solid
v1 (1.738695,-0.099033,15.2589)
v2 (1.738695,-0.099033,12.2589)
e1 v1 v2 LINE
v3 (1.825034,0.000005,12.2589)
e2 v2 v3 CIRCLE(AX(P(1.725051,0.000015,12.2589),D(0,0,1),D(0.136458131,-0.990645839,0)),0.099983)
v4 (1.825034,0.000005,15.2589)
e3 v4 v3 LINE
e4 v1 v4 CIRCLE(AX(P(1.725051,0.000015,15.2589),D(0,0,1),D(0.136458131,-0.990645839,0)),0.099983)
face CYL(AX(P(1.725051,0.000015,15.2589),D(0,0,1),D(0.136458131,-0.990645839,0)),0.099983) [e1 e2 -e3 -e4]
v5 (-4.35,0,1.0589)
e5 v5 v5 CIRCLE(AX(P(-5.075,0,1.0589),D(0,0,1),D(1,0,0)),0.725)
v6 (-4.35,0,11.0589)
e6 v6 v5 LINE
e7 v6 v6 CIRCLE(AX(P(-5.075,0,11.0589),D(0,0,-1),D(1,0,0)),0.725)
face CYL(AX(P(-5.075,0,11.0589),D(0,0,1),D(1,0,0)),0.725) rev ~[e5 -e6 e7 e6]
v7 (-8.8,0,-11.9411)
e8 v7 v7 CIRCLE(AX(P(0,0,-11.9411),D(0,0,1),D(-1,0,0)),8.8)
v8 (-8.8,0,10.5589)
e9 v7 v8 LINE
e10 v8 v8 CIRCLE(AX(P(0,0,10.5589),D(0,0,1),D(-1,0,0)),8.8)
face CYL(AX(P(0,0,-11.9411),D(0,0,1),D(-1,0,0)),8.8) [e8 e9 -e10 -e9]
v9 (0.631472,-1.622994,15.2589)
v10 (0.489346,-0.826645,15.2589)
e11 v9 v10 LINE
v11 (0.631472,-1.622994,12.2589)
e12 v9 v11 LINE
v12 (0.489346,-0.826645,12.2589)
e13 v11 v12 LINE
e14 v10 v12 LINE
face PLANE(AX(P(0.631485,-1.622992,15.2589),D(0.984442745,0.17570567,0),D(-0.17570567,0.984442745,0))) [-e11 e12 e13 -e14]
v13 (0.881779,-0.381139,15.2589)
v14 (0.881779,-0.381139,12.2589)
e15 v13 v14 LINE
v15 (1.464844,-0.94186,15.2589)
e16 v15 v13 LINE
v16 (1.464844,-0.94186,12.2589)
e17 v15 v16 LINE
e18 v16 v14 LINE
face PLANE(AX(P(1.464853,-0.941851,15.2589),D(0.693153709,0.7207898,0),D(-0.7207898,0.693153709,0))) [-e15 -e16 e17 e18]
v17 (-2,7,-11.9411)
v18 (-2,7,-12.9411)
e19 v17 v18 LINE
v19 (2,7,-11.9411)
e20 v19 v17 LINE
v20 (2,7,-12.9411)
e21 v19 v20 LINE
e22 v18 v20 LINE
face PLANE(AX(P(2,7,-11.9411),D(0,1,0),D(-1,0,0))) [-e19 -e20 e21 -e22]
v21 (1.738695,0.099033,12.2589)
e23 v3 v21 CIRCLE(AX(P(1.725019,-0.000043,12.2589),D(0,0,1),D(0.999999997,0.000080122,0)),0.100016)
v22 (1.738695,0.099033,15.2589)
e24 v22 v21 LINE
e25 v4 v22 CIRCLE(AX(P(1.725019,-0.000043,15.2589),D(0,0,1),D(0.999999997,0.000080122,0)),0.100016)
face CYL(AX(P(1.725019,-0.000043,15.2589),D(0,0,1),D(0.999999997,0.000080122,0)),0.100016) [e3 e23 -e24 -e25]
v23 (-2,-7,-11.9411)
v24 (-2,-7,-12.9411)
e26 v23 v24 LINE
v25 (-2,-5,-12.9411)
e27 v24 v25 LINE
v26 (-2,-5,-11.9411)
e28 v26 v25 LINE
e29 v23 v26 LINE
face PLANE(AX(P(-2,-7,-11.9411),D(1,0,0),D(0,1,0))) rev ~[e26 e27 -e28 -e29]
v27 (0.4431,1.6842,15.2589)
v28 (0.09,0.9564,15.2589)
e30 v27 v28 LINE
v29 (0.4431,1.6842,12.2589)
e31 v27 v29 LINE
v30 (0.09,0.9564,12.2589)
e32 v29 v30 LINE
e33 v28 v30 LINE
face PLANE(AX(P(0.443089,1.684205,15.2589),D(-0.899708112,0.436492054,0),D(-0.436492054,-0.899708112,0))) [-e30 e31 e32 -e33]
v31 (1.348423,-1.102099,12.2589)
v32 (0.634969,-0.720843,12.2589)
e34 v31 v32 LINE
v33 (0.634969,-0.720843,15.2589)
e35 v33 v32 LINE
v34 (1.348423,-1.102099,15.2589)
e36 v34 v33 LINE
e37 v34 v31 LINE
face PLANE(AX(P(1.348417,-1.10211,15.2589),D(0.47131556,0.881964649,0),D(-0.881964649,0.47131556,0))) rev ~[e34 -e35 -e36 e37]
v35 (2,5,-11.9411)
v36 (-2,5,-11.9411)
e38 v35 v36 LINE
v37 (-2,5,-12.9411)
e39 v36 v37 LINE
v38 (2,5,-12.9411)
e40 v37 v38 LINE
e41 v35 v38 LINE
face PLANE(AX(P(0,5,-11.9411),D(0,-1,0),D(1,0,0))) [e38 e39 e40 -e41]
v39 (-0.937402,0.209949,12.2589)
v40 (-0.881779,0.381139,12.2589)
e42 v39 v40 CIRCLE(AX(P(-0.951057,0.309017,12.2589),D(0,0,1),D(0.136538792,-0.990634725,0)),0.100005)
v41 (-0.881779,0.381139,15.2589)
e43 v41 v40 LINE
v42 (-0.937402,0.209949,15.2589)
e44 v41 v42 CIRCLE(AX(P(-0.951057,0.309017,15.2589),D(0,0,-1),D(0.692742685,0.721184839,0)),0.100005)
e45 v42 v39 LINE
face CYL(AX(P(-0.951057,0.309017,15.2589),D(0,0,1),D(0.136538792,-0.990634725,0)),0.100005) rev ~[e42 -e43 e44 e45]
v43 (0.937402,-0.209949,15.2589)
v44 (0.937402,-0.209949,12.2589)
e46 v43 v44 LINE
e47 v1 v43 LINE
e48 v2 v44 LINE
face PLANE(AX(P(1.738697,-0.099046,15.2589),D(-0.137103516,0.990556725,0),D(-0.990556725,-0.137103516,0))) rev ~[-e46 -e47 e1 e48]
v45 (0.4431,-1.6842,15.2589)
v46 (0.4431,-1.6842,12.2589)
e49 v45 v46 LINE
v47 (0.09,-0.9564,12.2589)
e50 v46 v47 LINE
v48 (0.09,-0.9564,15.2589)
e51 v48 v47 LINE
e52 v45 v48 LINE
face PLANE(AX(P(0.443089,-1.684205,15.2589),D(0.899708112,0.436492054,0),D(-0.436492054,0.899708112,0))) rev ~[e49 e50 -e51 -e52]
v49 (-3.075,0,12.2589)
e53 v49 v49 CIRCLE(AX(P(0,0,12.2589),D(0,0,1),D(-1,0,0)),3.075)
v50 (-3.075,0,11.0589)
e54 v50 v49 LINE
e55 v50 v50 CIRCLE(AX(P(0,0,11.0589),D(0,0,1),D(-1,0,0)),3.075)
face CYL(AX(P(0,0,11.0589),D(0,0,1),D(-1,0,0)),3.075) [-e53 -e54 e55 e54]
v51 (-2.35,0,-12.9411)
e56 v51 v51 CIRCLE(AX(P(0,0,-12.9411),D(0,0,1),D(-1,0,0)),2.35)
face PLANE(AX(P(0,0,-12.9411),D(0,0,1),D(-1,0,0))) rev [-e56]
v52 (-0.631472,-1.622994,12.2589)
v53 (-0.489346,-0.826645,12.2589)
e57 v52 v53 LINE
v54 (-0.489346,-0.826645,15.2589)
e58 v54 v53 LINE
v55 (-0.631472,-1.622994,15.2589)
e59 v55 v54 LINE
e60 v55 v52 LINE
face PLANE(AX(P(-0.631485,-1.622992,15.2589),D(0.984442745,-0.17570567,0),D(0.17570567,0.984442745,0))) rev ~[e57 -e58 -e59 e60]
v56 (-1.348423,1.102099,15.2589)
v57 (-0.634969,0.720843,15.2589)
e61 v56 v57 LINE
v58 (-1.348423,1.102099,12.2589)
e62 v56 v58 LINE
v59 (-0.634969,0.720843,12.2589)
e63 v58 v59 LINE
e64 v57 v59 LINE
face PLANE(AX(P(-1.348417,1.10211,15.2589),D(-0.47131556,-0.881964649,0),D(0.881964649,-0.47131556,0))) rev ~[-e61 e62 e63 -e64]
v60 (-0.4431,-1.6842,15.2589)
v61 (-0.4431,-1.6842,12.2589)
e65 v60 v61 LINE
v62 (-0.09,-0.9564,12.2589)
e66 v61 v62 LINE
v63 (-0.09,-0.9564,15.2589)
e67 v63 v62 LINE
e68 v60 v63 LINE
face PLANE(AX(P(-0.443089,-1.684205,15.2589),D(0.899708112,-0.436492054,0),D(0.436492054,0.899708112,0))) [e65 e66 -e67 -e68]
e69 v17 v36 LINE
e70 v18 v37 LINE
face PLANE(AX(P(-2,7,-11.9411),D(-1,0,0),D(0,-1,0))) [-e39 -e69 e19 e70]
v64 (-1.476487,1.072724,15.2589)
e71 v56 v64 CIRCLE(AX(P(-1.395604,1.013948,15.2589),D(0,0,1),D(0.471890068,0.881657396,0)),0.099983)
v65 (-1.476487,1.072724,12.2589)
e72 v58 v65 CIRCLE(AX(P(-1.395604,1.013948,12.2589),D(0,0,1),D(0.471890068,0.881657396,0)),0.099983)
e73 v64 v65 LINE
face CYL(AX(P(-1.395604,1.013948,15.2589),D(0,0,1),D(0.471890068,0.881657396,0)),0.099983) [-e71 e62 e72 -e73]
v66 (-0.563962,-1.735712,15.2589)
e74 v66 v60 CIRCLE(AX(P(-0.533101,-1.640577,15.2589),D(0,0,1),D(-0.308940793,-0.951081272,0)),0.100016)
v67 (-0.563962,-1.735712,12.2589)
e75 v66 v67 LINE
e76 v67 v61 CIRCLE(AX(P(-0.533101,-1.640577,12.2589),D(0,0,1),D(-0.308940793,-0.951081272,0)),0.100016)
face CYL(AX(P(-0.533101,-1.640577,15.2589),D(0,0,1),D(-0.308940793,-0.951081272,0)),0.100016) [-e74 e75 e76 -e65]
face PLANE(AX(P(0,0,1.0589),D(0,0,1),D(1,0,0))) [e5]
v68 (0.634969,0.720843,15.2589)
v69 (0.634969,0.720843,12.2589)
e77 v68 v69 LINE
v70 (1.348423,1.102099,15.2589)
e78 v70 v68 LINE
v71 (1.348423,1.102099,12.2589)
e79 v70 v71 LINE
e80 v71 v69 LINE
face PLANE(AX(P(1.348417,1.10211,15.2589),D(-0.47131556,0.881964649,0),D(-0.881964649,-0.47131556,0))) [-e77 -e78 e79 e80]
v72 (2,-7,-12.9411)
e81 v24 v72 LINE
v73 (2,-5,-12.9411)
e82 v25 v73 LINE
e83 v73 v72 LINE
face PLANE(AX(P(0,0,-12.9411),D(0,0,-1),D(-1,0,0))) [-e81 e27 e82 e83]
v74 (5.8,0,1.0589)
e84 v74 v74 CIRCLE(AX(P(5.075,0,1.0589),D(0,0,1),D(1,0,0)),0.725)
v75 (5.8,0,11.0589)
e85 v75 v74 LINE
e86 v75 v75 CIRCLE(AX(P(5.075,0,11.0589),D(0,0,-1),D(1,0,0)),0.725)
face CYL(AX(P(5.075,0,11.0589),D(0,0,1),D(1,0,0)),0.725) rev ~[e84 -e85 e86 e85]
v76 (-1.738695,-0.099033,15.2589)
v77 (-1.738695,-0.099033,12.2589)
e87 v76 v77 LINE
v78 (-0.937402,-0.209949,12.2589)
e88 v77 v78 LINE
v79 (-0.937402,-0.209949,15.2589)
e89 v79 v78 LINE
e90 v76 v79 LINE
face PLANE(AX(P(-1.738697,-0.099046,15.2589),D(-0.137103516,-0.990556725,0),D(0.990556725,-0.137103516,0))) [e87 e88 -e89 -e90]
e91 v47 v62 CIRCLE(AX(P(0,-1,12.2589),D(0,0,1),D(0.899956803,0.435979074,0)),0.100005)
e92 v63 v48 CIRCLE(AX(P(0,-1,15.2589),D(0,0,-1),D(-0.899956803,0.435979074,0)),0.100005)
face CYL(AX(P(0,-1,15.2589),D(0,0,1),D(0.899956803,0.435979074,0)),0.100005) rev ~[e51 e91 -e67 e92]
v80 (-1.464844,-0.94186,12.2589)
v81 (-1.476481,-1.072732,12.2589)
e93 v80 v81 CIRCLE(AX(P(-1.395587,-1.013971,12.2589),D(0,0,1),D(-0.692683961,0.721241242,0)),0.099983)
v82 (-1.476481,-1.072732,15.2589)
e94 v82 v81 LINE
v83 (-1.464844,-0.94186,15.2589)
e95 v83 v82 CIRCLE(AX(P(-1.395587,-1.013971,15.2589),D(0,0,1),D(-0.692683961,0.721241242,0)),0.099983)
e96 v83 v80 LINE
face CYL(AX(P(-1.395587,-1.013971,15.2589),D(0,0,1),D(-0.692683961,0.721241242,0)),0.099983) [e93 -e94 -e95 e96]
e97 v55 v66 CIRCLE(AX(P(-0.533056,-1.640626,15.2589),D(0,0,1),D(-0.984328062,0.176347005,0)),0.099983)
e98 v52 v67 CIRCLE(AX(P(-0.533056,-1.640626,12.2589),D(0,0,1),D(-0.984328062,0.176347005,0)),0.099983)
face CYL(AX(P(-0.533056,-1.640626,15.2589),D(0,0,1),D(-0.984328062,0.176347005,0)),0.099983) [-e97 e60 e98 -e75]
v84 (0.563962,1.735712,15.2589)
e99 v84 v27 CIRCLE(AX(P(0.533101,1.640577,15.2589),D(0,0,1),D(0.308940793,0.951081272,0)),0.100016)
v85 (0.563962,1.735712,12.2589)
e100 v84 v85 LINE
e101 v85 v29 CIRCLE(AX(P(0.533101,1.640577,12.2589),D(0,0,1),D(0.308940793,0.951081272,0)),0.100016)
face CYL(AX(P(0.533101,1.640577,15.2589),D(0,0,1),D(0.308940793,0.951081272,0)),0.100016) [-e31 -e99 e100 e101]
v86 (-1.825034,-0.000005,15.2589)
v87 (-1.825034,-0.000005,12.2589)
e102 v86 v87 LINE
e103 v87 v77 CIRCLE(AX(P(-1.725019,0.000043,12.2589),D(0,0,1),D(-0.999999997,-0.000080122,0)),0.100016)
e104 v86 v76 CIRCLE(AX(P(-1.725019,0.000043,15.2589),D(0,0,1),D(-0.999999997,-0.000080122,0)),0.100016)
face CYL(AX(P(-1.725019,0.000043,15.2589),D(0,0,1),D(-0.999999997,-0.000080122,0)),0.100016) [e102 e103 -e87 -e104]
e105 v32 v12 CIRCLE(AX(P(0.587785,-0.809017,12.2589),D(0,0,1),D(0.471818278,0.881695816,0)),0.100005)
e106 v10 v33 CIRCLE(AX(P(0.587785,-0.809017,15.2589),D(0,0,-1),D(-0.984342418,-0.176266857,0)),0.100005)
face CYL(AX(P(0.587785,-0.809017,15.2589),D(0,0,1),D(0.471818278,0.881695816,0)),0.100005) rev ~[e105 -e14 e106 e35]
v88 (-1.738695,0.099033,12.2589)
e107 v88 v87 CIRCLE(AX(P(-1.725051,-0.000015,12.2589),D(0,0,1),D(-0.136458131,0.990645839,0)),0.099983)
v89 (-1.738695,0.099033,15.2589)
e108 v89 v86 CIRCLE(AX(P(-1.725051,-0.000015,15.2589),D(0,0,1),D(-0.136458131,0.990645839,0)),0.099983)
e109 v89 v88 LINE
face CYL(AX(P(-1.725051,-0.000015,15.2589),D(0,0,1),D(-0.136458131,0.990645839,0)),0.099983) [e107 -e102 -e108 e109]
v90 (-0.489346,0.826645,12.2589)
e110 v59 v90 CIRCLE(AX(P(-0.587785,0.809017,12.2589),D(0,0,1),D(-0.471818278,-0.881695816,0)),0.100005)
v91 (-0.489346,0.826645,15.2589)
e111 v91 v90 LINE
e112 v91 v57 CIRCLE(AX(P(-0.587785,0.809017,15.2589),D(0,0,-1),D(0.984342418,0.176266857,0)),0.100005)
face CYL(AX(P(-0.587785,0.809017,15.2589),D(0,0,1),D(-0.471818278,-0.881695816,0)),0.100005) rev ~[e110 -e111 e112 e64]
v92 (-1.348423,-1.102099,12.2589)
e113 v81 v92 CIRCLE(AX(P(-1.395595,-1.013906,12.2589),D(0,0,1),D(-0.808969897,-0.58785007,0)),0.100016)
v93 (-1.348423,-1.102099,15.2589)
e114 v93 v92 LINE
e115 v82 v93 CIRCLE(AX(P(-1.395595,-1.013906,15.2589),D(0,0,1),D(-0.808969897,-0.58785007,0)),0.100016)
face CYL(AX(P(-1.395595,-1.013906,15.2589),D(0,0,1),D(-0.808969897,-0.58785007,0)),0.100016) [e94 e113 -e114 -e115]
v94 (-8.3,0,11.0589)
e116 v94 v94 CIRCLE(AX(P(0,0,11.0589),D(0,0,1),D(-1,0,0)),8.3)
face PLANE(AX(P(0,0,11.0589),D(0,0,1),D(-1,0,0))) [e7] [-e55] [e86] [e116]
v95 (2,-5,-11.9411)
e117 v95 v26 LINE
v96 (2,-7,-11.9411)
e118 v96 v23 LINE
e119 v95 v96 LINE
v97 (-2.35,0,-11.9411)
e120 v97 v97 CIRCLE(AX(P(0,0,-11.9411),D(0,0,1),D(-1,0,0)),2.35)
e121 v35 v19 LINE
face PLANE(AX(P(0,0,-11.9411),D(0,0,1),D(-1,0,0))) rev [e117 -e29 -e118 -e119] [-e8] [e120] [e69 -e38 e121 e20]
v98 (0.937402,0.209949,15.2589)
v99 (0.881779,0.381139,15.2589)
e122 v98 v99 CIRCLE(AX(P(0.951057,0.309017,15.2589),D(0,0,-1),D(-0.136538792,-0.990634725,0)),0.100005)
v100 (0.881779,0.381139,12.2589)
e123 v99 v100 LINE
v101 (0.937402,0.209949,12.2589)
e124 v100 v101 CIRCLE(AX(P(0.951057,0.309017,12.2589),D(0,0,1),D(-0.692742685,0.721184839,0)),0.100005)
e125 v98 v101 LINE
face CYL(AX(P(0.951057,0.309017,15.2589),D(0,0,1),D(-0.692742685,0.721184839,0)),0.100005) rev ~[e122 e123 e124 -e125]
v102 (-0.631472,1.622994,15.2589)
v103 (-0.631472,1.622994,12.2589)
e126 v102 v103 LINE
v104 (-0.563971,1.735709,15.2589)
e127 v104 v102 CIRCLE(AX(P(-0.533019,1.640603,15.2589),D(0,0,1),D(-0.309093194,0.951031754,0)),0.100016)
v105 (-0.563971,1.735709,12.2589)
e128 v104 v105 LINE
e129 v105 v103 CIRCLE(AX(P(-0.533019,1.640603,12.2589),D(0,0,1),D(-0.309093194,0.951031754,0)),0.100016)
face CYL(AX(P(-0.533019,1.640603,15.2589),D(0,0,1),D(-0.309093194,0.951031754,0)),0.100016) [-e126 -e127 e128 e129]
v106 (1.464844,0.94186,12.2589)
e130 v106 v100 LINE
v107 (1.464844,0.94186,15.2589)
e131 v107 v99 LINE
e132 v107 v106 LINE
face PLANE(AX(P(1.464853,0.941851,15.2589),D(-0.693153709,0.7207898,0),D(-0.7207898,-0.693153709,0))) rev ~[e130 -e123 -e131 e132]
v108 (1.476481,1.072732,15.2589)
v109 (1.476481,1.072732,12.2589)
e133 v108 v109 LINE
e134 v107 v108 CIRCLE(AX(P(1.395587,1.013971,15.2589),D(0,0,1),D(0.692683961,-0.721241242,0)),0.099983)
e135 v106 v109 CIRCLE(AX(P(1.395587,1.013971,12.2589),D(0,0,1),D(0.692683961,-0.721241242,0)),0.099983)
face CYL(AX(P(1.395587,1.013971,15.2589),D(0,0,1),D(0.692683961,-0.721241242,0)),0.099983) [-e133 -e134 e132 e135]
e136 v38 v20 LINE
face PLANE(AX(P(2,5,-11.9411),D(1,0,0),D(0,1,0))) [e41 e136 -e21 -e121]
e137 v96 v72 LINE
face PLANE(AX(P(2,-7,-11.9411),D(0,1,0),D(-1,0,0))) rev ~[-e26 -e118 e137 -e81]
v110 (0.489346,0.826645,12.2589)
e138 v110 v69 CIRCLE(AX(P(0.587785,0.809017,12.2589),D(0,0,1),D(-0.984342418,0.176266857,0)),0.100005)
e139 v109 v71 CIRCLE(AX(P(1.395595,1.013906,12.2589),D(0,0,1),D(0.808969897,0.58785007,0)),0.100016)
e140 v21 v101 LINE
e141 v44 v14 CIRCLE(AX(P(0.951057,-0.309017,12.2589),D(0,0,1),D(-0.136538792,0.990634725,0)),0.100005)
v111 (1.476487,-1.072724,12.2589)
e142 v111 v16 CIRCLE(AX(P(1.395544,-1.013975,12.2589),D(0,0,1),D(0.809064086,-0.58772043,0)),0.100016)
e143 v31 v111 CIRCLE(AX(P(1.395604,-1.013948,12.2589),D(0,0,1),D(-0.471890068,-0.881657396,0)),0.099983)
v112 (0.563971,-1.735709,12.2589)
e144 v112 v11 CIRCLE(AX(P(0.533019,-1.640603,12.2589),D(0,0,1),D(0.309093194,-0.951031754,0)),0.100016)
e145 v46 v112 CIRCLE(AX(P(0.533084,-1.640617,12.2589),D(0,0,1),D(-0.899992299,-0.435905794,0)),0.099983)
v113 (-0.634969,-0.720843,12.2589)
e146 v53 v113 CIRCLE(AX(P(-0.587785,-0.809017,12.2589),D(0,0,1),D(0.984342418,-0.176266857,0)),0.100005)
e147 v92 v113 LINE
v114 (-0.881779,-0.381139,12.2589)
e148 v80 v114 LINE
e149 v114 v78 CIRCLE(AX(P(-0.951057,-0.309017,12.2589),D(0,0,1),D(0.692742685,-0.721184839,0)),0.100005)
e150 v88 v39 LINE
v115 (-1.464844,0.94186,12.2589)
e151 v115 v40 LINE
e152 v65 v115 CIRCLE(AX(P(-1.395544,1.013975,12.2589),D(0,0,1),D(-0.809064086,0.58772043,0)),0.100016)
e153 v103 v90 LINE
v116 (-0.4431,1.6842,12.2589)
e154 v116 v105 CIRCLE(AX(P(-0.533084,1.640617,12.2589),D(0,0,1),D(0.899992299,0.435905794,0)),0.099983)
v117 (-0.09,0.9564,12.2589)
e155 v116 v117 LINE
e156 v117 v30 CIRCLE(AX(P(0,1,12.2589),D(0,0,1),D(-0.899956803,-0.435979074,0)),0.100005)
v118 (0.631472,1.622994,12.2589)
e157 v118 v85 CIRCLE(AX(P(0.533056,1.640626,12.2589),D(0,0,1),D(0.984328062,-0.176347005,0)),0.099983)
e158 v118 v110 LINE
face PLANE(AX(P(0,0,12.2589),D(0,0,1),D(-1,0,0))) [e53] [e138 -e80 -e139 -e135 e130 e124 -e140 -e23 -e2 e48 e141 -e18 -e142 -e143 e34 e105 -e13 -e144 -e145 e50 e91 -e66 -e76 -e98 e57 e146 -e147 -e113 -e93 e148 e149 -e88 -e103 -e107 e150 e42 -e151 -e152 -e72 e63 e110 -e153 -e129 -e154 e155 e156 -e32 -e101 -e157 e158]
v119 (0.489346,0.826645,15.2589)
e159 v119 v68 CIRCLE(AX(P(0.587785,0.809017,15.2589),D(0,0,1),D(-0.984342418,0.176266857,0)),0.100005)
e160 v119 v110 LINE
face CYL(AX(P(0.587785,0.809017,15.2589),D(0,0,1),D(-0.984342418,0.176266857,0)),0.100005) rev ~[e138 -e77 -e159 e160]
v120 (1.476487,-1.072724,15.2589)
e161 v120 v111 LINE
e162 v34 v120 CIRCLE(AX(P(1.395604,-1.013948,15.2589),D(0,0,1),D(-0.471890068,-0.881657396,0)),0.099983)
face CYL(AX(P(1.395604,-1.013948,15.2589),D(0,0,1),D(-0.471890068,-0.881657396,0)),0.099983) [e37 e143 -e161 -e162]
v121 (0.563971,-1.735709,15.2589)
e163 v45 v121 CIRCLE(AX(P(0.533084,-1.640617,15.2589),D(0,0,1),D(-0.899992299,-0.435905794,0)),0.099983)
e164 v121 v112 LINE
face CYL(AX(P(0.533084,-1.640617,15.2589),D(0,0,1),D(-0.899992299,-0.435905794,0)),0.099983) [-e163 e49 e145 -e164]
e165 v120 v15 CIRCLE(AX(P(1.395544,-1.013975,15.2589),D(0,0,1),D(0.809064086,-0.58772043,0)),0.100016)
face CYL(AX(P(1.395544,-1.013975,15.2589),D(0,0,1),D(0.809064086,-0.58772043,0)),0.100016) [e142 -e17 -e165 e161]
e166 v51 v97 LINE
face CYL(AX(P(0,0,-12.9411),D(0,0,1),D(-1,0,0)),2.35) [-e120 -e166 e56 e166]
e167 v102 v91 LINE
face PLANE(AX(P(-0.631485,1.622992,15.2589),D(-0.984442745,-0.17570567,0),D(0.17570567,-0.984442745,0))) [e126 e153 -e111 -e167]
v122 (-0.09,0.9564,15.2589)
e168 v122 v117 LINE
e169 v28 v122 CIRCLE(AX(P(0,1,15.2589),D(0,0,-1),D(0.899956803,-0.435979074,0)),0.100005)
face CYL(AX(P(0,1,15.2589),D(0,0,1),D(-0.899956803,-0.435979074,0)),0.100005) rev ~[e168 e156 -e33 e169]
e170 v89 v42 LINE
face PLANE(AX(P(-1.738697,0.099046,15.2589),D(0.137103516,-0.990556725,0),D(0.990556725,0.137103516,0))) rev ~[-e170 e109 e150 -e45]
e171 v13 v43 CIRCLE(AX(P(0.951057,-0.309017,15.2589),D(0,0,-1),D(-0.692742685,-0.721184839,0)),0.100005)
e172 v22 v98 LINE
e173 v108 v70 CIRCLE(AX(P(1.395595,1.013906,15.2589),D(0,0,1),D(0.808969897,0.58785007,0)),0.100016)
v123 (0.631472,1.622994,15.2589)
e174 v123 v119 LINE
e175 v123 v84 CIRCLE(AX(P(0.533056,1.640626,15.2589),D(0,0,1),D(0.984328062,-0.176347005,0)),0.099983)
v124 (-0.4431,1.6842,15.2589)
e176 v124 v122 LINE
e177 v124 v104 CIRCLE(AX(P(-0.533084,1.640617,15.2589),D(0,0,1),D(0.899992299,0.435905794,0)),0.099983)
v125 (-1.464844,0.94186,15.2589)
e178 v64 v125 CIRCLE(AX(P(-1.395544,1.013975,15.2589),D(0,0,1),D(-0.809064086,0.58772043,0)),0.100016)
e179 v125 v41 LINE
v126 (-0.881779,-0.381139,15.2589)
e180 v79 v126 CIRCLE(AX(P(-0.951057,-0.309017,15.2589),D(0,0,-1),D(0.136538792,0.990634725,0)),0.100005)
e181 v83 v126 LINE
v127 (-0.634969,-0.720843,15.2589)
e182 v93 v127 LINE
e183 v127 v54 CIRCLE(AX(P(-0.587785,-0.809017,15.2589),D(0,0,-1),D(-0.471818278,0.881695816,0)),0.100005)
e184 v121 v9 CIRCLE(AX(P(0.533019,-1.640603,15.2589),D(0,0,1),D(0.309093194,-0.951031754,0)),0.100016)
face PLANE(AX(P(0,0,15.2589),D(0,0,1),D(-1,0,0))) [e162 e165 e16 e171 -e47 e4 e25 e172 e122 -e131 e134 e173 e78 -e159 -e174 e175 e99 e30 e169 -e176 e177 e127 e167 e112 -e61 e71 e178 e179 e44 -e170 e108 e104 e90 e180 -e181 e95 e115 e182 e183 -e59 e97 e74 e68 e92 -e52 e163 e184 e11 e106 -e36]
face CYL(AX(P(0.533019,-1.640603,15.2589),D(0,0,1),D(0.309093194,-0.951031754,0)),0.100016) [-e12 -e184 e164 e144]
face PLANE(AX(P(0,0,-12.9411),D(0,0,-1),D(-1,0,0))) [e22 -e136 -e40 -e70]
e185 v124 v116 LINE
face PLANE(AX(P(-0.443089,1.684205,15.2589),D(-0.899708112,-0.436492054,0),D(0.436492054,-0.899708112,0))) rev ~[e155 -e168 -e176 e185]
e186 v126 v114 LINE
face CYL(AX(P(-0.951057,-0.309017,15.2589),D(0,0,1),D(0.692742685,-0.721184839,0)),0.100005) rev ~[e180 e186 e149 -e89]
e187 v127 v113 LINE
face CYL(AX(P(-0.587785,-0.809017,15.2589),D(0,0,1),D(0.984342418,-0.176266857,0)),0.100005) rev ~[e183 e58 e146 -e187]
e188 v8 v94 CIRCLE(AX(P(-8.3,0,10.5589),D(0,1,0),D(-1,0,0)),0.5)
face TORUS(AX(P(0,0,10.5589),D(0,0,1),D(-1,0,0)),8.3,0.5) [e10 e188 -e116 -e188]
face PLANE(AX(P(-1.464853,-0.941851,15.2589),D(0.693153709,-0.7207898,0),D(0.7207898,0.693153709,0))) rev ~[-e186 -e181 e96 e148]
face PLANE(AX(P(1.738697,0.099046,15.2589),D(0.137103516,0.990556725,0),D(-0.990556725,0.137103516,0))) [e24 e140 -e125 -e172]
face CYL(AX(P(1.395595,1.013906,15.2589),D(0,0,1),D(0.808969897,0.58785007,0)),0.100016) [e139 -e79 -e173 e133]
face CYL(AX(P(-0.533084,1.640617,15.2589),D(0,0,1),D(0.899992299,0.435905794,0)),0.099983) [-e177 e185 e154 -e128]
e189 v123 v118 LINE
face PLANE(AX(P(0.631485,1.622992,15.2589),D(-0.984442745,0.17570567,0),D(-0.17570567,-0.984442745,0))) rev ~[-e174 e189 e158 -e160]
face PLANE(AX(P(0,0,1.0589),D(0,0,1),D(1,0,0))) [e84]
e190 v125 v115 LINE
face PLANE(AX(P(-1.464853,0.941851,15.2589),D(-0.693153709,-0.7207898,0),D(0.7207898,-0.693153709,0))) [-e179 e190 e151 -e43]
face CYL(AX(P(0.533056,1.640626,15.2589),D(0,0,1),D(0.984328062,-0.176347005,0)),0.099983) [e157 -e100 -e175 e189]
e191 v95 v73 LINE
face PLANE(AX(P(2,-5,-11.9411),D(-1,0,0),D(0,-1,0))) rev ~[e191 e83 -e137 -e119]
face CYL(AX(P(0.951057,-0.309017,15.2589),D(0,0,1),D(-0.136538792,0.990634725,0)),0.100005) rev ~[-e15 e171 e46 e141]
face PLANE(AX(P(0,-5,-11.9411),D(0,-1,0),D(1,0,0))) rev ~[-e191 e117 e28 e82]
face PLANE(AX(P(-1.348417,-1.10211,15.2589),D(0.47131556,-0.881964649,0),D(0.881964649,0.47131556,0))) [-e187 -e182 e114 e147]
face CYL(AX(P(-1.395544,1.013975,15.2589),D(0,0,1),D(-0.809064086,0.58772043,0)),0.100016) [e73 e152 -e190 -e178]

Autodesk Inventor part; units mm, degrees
ref_plane "YZ Plane" through (0, 0, 0) normal (1, 0, 0) x (0, 1, 0)
ref_plane "XZ Plane" through (0, 0, 0) normal (0, 1, 0) x (-1, 0, 0)
ref_plane "XY Plane" through (0, 0, 0) normal (0, 0, 1) x (1, 0, 0)
sketch "Sketch1" plane through (0, 0, 0) normal (0, 1, 0) x (-1, 0, 0)
  line L0 (0, -22.2029) -> (0, 22.4648) projected
  line L1 (10.56, 0) -> (-1.76, 0) projected
  line L2 (0, 16.0837) -> (0, -15.8218)
  line L3 (0, -11.9411) -> (8.8, -11.9411)
  line L4 (8.8, -11.9411) -> (8.8, 11.0589)
  line L5 (8.8, 11.0589) -> (3.075, 11.0589)
  line L6 (3.075, 11.0589) -> (3.075, 12.2589)
  line L7 (3.075, 12.2589) -> (1.825, 12.2589)
  line L8 (1.825, 12.2589) -> (1.825, 15.2589)
  line L9 (1.825, 15.2589) -> (0, 15.2589)
  line L10 (0, -11.9411) -> (0, 15.2589)
  line L11 (0, -12.9411) -> (2.35, -12.9411)
  line L12 (2.35, -12.9411) -> (2.35, -11.9411)
  line L13 (0, -11.9411) -> (0, -12.9411)
  point P0 (0, 0)
  dimension "d0" = 17.6
  dimension "d1" = 23
  dimension "d2" = 1
  dimension "d3" = 4.7
  dimension "d4" = 6.15
  dimension "d5" = 3.65
  dimension "d6" = 1.2
  dimension "d7" = 3
revolve "Revolution1" add sketch "Sketch1" angle 360 about axis through (0, 0, -10) along (0, 0, 1)
sketch "Sketch2" plane through (0, 0, 11.0589) normal (0, 0, 1) x (1, 0, 0)
  line L0 (-12.32, 0) -> (12.32, 0) projected
  circle A0 centre (-5.075, 0) radius 0.725
  circle A1 centre (5.075, 0) radius 0.725
  line L1 (0, -12.32) -> (0, 12.32) projected
  dimension "d9" = 1.45
  dimension "d10" = 10.15
extrude "Extrusion1" cut sketch "Sketch2" against normal blind 10
sketch "Sketch3" plane through (0, 0, -11.9411) normal (0, 0, -1) x (-1, 0, 0)
  line L0 (12.32, 0) -> (-12.32, 0) projected
  line L1 (0, -12.32) -> (0, 12.32) projected
  line L2 (-2, 7) -> (2, 7)
  line L3 (2, 7) -> (2, 5)
  line L4 (2, 5) -> (-2, 5)
  line L5 (-2, 5) -> (-2, 7)
  line L6 (-2, 7) -> (2, 5) construction
  line L7 (2, 7) -> (-2, 5) construction
  line L8 (-2, -7) -> (2, -7)
  line L9 (2, -7) -> (2, -5)
  line L10 (2, -5) -> (-2, -5)
  line L11 (-2, -5) -> (-2, -7)
  line L12 (-2, -7) -> (2, -5) construction
  line L13 (2, -7) -> (-2, -5) construction
  point P0 (0, 6)
  point P1 (0, -6)
  dimension "d13" = 4
  dimension "d14" = 14
  dimension "d15" = 2
extrude "Extrusion2" add sketch "Sketch3" along normal blind 1
sketch "Sketch4" plane through (0, 0, 15.2589) normal (0, 0, 1) x (1, 0, 0)
  circle A0 centre (0, 0) radius 1.825 projected
  line L0 (0, -12.32) -> (0, 12.32) projected
  line L1 (-12.32, 0) -> (12.32, 0) projected
  line L2 (-0.4802, 1.7607) -> (0, 0.7709)
  line L3 (0.4802, 1.7607) -> (0, 0.7709)
  line L4 (0, 0) -> (-0.564, 1.7357) construction
  line L5 (0, 0) -> (0.564, 1.7357) construction
  arc A1 (-0.09, 0.9564) -> (0.09, 0.9564) centre (0, 1) ccw
  arc A2 (-0.4431, 1.6842) -> (-0.564, 1.7357) centre (-0.5331, 1.6406) ccw
  arc A3 (0.564, 1.7357) -> (0.4431, 1.6842) centre (0.5331, 1.6406) ccw
  line L6 (0, 1) -> (0, 1.825)
  dimension "d18" = 0.1
  dimension "d19" = 36
  dimension "d22" = 0.1
  dimension "d29" = 0.825
extrude "Extrusion3" cut sketch "Sketch4" against normal up to surface (3 mm away) contours A3 L3 A0 | L3 A1 L0 A0 | L0 A1 L2 A0 | A0 L2 A2
pattern_circular "Circular Pattern1" count 10 over 360 about axis through (0, 0, -10) along (0, 0, 1) of "Extrusion3"
fillet "Fillet1" radius 0.5 1 edges at (8.8, 0, 11.0589)
properties part number "empty"
